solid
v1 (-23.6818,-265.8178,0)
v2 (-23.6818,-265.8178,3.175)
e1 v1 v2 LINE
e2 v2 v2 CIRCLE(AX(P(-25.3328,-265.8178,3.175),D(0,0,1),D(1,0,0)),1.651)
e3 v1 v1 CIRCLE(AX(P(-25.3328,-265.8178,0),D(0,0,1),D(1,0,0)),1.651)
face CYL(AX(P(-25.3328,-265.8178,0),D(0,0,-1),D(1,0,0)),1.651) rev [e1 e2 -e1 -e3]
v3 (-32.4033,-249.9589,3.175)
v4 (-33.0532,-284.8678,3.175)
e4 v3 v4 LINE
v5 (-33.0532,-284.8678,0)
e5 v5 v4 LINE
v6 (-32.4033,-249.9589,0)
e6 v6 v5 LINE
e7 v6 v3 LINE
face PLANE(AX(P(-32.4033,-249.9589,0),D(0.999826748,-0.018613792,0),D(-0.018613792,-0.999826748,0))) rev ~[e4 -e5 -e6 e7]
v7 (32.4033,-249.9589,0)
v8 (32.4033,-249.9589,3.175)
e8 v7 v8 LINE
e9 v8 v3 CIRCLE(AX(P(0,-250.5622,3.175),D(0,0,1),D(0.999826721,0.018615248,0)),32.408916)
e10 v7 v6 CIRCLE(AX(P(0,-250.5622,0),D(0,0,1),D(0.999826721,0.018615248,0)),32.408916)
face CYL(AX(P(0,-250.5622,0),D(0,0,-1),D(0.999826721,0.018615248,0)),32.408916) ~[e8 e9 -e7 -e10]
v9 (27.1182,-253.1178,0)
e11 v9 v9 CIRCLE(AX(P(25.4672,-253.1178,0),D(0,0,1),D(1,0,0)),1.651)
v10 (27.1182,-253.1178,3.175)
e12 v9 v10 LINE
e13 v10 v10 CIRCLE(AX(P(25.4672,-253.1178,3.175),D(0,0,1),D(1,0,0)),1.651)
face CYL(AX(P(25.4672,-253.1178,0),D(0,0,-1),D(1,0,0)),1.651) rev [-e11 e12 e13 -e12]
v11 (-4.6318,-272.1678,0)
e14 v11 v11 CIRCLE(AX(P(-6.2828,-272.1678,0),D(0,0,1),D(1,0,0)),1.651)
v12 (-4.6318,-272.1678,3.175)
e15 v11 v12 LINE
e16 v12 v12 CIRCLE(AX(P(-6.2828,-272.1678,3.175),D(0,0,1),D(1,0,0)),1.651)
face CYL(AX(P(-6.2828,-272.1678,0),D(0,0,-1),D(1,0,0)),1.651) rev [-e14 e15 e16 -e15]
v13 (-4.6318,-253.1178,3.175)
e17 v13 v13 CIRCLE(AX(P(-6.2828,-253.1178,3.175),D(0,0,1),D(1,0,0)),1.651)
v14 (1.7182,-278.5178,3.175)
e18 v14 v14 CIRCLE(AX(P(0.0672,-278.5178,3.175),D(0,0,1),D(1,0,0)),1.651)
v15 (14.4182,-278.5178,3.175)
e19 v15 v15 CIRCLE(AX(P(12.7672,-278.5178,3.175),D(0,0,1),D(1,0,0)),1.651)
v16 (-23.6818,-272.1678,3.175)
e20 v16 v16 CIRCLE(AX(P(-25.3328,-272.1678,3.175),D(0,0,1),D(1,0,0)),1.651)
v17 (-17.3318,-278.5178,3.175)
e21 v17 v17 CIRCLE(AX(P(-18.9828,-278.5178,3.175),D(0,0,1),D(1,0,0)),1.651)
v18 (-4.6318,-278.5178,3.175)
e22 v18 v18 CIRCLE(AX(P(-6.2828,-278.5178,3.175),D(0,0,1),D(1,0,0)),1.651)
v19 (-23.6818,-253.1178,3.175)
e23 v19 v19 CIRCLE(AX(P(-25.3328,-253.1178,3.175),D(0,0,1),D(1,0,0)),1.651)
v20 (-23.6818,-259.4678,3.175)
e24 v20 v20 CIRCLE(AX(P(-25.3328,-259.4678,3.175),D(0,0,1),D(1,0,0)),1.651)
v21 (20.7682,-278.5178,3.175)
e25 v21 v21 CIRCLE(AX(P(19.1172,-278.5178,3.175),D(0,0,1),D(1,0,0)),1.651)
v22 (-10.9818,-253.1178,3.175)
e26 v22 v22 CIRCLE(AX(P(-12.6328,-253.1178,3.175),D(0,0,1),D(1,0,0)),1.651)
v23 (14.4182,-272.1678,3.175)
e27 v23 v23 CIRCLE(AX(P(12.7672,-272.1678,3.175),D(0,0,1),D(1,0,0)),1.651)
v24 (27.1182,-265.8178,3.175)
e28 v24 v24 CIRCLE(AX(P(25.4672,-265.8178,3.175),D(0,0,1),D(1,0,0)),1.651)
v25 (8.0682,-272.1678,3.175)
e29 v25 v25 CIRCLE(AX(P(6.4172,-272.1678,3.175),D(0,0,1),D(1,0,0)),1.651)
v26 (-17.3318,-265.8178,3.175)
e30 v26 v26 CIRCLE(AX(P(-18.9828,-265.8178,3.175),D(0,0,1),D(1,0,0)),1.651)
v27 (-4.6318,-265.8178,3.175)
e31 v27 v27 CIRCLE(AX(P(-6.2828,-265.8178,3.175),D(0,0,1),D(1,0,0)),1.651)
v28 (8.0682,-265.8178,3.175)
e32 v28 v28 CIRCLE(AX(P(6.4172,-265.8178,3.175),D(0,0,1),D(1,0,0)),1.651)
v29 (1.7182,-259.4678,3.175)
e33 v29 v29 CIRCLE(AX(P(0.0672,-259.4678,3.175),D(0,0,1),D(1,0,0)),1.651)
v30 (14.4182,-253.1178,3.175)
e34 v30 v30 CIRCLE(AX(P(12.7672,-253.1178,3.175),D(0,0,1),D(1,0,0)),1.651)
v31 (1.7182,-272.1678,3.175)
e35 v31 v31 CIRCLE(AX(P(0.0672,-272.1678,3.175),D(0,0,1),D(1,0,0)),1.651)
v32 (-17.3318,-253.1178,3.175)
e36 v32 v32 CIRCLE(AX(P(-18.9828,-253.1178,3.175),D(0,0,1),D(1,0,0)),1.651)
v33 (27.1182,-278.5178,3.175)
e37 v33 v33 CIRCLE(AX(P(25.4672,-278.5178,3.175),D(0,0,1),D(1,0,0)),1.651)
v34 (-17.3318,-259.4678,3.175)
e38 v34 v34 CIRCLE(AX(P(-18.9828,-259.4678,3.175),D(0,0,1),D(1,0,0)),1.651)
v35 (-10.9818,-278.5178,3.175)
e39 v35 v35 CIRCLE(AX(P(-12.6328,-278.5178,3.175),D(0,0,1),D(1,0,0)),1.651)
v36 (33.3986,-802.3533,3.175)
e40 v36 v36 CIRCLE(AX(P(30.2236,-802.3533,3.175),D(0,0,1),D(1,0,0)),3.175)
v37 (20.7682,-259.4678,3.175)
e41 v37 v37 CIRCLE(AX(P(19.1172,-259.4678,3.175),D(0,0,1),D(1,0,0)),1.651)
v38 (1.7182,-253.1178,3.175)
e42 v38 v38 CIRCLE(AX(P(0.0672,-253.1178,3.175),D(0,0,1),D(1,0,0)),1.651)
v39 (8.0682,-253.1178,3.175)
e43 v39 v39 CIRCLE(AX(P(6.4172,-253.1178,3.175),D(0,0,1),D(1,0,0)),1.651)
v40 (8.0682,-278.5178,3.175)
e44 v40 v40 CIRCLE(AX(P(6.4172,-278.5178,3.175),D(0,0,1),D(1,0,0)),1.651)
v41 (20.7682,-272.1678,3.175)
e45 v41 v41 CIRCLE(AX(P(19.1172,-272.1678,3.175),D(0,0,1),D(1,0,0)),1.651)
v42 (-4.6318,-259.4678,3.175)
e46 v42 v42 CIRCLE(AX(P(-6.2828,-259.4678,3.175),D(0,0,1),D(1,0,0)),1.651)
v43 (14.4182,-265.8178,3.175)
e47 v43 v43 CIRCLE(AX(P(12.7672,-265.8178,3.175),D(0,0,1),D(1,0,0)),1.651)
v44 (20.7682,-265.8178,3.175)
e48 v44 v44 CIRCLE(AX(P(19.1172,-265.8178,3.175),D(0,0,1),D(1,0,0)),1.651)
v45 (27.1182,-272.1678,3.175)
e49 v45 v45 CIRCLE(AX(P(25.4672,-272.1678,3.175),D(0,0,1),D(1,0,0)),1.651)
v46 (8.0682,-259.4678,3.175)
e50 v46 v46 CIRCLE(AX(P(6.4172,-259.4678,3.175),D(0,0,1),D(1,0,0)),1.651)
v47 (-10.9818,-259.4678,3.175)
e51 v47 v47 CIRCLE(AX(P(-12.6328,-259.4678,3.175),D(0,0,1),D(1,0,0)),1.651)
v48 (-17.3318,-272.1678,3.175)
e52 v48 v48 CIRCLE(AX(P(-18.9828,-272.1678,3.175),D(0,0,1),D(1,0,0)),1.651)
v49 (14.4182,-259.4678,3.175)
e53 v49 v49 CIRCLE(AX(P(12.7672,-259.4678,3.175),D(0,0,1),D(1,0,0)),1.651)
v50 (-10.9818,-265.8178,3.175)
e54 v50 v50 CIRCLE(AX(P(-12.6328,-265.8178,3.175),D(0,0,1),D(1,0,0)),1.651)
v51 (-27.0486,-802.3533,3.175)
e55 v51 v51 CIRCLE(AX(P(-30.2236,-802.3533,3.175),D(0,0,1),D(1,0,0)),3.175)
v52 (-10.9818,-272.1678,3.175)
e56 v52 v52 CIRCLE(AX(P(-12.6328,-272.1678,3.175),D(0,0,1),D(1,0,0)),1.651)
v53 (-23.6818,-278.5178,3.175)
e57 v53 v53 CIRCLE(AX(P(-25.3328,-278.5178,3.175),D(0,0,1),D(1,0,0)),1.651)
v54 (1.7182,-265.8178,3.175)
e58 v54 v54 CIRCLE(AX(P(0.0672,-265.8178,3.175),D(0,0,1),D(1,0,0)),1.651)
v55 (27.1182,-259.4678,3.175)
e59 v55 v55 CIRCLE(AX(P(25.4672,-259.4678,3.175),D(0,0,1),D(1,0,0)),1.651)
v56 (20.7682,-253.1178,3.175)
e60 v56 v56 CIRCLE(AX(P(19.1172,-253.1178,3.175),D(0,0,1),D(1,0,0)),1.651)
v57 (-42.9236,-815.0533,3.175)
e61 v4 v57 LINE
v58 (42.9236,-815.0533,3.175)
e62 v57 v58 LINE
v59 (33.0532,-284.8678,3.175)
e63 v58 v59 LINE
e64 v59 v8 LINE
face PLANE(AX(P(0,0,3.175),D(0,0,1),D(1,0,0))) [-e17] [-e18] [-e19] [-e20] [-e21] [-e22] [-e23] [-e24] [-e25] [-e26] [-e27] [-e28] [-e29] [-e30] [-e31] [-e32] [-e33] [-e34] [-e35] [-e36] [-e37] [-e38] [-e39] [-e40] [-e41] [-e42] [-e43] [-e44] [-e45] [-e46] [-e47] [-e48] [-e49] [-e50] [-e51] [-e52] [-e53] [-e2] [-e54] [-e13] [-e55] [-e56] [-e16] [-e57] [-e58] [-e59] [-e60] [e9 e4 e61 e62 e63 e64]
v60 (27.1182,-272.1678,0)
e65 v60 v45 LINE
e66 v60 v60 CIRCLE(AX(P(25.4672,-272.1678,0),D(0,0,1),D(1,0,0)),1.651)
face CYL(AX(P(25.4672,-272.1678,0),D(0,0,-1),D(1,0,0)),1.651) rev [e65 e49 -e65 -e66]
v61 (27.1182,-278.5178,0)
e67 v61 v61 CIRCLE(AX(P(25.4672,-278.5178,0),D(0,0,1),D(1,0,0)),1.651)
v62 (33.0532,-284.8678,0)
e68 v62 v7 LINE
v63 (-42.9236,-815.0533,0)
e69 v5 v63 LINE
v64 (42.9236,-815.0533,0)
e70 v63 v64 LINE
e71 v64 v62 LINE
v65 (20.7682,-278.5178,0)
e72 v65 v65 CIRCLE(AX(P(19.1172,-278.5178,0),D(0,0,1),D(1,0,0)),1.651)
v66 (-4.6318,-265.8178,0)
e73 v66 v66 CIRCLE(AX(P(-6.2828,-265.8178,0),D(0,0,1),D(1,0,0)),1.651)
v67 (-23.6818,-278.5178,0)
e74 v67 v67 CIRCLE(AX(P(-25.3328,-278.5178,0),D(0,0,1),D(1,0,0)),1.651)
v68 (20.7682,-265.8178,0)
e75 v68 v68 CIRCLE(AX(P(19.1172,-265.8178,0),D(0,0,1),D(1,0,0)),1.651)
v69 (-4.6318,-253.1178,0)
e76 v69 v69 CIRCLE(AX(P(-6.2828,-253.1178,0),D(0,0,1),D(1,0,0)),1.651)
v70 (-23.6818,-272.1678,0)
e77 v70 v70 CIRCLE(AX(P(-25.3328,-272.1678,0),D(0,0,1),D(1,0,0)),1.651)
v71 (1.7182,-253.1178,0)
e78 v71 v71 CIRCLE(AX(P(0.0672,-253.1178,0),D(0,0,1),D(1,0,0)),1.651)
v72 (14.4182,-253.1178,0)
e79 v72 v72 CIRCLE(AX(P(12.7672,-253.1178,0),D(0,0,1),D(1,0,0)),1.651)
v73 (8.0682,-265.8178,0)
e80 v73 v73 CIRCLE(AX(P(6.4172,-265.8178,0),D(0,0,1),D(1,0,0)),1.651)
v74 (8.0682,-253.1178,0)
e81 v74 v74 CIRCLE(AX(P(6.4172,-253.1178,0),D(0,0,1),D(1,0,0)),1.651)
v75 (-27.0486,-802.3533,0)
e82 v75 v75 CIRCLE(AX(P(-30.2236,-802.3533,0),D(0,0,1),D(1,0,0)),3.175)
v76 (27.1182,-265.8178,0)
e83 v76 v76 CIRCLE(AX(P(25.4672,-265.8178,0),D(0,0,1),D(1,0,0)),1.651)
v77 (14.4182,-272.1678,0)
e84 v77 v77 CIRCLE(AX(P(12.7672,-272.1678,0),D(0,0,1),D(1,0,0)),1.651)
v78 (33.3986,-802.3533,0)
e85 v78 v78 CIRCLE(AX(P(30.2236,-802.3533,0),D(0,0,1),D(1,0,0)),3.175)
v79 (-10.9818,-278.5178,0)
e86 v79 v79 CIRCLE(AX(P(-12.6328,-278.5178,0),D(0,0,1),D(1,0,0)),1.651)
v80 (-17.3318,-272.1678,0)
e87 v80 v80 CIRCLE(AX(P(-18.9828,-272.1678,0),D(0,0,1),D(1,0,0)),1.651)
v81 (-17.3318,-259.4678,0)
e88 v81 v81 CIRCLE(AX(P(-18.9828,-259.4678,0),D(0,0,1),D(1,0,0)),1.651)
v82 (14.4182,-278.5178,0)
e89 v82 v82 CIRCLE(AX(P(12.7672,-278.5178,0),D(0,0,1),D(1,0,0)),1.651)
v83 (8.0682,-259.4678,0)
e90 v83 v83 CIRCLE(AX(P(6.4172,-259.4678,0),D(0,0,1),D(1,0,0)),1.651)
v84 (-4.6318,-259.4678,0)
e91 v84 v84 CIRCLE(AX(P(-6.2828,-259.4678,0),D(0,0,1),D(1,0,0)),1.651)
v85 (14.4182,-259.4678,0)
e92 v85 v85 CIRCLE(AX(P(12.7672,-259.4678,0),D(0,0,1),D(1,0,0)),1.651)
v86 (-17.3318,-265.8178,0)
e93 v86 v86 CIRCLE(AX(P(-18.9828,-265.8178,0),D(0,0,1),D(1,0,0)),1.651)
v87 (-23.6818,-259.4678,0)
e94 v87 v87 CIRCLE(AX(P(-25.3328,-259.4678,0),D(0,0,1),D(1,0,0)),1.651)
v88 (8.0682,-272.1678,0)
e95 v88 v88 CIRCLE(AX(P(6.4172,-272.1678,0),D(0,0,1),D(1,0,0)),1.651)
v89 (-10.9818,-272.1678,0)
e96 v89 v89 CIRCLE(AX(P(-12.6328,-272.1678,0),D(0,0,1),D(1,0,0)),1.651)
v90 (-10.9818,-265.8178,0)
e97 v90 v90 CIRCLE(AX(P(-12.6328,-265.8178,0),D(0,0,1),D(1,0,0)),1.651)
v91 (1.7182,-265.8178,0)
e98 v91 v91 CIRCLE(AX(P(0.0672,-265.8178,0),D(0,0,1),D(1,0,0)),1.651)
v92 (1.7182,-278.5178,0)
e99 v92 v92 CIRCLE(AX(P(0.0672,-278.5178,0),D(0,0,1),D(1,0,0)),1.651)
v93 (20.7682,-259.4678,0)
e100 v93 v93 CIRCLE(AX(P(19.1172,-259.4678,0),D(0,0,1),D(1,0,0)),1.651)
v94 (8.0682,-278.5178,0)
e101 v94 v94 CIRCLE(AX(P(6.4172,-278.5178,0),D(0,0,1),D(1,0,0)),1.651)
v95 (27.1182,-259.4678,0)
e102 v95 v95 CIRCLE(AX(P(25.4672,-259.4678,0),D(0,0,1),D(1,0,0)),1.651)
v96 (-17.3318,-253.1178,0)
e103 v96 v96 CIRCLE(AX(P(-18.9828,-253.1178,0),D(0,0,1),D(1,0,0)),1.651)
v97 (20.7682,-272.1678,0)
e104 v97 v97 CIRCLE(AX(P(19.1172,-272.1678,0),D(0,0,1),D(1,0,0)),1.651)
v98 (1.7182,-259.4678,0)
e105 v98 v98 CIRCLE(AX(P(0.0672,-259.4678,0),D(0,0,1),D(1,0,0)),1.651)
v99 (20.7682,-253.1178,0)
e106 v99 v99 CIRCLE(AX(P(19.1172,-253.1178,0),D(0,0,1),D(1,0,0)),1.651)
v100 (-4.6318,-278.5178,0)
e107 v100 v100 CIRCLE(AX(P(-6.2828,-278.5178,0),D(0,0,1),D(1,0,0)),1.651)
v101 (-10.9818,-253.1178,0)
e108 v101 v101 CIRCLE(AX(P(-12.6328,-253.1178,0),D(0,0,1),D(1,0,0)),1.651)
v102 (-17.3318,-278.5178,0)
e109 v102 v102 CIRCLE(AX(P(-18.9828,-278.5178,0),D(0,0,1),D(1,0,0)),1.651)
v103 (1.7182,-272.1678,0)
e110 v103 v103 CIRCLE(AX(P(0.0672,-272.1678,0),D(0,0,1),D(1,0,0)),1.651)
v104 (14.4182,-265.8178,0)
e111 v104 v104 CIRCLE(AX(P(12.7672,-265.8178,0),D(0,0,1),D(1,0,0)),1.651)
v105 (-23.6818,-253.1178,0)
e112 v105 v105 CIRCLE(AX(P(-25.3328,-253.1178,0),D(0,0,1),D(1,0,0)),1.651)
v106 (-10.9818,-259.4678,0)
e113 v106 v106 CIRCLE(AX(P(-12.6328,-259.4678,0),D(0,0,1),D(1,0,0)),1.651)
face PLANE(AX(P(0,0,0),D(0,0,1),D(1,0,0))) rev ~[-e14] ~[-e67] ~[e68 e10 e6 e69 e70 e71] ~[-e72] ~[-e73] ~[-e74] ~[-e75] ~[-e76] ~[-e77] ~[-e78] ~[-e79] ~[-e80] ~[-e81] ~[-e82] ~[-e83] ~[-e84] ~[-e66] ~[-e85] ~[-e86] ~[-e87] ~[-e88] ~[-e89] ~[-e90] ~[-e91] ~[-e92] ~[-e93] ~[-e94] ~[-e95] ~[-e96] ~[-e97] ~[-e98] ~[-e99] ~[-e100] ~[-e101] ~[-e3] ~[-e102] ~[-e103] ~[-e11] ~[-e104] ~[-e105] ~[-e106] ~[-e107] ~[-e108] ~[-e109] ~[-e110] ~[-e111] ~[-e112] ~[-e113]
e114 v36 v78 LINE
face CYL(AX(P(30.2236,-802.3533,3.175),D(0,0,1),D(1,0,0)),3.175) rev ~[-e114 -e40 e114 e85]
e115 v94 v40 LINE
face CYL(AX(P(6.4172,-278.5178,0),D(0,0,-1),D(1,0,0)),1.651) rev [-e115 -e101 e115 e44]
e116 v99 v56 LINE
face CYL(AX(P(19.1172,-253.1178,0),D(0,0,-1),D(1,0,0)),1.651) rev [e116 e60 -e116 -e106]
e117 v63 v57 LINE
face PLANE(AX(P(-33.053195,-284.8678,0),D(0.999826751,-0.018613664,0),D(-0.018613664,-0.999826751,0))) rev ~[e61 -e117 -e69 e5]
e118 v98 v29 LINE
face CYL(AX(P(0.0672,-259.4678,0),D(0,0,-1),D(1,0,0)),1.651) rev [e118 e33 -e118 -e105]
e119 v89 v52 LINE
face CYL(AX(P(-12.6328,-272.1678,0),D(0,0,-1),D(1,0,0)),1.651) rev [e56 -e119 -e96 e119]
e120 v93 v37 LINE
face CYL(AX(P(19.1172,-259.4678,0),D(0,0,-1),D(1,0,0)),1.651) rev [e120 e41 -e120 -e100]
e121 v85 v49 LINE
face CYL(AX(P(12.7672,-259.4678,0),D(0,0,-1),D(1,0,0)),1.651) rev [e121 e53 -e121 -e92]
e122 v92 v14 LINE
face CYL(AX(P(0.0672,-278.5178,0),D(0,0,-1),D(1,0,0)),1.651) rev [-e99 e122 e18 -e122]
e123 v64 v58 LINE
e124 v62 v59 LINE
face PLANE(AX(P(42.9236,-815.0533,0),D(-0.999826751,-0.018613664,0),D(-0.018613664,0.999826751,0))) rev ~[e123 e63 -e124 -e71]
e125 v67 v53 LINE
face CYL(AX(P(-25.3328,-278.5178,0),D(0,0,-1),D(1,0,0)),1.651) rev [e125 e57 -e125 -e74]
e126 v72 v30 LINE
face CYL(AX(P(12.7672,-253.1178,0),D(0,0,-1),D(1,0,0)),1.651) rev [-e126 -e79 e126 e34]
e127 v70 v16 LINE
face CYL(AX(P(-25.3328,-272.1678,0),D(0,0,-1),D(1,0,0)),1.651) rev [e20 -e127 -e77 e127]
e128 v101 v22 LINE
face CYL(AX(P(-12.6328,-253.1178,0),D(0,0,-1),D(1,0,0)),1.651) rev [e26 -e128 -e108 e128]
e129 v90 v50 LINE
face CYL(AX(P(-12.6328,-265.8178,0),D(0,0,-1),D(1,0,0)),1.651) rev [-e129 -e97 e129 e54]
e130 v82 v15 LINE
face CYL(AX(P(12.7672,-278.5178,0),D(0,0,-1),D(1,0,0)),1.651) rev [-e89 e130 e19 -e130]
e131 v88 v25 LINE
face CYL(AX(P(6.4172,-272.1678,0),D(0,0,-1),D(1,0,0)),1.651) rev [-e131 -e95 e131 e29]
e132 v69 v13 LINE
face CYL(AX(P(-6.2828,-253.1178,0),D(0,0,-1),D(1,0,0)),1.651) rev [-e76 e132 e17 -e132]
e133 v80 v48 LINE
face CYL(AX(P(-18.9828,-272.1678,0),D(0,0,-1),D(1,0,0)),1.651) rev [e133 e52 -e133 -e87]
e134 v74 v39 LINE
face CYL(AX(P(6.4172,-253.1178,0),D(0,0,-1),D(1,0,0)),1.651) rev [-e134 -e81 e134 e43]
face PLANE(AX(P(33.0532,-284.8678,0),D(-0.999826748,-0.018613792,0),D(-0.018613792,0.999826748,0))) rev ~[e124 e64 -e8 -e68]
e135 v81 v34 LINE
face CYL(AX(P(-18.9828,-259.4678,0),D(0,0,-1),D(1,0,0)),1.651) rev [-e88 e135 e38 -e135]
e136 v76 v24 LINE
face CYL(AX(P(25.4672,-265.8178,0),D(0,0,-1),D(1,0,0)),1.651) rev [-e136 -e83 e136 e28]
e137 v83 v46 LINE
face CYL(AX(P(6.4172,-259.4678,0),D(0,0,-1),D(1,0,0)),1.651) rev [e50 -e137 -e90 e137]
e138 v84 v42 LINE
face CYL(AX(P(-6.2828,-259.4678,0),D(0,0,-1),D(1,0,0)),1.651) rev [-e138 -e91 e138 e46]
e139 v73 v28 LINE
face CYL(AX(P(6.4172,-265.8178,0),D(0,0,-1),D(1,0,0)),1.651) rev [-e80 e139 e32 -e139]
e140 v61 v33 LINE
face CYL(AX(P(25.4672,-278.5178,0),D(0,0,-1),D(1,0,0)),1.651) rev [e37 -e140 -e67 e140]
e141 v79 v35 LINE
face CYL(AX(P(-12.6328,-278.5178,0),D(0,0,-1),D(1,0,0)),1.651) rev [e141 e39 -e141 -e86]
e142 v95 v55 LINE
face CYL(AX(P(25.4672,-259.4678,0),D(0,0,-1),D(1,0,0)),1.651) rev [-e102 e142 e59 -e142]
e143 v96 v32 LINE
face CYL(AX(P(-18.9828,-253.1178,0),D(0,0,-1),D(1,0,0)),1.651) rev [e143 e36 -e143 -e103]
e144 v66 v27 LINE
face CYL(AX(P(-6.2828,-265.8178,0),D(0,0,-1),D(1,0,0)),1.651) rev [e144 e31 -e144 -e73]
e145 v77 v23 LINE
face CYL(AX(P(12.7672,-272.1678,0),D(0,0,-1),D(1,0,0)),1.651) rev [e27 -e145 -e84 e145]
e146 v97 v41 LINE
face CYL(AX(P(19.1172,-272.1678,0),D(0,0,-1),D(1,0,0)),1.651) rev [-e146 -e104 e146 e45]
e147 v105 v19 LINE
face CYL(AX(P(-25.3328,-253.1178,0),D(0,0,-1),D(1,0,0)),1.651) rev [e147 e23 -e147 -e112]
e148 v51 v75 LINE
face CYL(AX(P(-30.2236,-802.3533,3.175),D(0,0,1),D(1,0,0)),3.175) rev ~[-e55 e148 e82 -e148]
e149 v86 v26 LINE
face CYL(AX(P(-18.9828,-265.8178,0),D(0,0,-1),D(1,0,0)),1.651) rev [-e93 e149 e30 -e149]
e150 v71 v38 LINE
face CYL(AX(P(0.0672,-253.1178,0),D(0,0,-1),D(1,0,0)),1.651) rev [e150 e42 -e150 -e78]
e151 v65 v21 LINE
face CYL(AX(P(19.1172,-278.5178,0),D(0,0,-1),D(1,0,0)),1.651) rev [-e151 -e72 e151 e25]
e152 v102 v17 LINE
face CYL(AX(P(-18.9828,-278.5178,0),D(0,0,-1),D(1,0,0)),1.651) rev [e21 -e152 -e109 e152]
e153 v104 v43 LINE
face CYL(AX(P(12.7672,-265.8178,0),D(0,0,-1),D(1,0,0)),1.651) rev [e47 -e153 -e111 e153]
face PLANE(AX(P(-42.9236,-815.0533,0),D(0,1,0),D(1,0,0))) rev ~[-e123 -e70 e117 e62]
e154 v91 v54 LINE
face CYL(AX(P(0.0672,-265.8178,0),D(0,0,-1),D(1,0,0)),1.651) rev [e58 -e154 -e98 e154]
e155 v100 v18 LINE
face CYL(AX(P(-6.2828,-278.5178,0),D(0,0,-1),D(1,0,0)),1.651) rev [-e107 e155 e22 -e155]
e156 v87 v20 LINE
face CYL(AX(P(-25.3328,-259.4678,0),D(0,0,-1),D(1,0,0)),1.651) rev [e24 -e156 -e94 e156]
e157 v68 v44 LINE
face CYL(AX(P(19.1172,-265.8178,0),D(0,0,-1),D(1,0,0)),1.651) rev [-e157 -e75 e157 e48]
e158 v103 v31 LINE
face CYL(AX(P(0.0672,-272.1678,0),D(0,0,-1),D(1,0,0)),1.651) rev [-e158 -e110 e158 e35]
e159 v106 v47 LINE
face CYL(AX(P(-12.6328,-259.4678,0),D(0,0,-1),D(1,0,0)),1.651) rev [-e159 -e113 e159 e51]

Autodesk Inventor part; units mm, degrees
ref_plane "YZ Plane" through (0, 0, 0) normal (1, 0, 0) x (0, 1, 0)
ref_plane "XZ Plane" through (0, 0, 0) normal (0, 1, 0) x (-1, 0, 0)
ref_plane "XY Plane" through (0, 0, 0) normal (0, 0, 1) x (1, 0, 0)
ref_plane "Work Plane1" through (0, 0, 0) normal (0, 0, 1) x (1, 0, 0)
sketch "Sketch1" plane through (0, 0, 0) normal (0, 0, 1) x (1, 0, 0)
  circle A0 centre (15.2714, 289.6793) radius 1.651 projected
  circle A1 centre (2.5714, 289.6793) radius 1.651 projected
  circle A2 centre (-10.1286, 289.6793) radius 1.651 projected
  circle A3 centre (15.2714, 283.3293) radius 1.651 projected
  circle A4 centre (2.5714, 283.3293) radius 1.651 projected
  circle A5 centre (-10.1286, 283.3293) radius 1.651 projected
  circle A6 centre (15.2714, 276.9793) radius 1.651 projected
  circle A7 centre (2.5714, 276.9793) radius 1.651 projected
  circle A8 centre (-10.1286, 276.9793) radius 1.651 projected
  circle A9 centre (15.2714, 270.6293) radius 1.651 projected
  circle A10 centre (2.5714, 270.6293) radius 1.651 projected
  circle A11 centre (-10.1286, 270.6293) radius 1.651 projected
  circle A12 centre (15.2714, 264.2793) radius 1.651 projected
  circle A13 centre (2.5714, 264.2793) radius 1.651 projected
  circle A14 centre (-10.1286, 264.2793) radius 1.651 projected
  circle A15 centre (-16.4786, 264.2793) radius 1.651 projected
  circle A16 centre (-3.7786, 264.2793) radius 1.651 projected
  circle A17 centre (8.9214, 264.2793) radius 1.651 projected
  circle A18 centre (-16.4786, 270.6293) radius 1.651 projected
  circle A19 centre (-3.7786, 270.6293) radius 1.651 projected
  circle A20 centre (8.9214, 270.6293) radius 1.651 projected
  circle A21 centre (-16.4786, 276.9793) radius 1.651 projected
  circle A22 centre (-3.7786, 276.9793) radius 1.651 projected
  circle A23 centre (8.9214, 276.9793) radius 1.651 projected
  circle A24 centre (-16.4786, 283.3293) radius 1.651 projected
  circle A25 centre (-3.7786, 283.3293) radius 1.651 projected
  circle A26 centre (8.9214, 283.3293) radius 1.651 projected
  circle A27 centre (-16.4786, 289.6793) radius 1.651 projected
  circle A28 centre (-3.7786, 289.6793) radius 1.651 projected
  circle A29 centre (8.9214, 289.6793) radius 1.651 projected
  circle A30 centre (25.4672, -253.1178) radius 1.651 projected
  circle A31 centre (19.1172, -253.1178) radius 1.651 projected
  circle A32 centre (12.7672, -253.1178) radius 1.651 projected
  circle A33 centre (6.4172, -253.1178) radius 1.651 projected
  circle A34 centre (0.0672, -253.1178) radius 1.651 projected
  circle A35 centre (-6.2828, -253.1178) radius 1.651 projected
  circle A36 centre (-12.6328, -253.1178) radius 1.651 projected
  circle A37 centre (-18.9828, -253.1178) radius 1.651 projected
  circle A38 centre (-25.3328, -253.1178) radius 1.651 projected
  circle A39 centre (25.4672, -259.4678) radius 1.651 projected
  circle A40 centre (19.1172, -259.4678) radius 1.651 projected
  circle A41 centre (12.7672, -259.4678) radius 1.651 projected
  circle A42 centre (6.4172, -259.4678) radius 1.651 projected
  circle A43 centre (0.0672, -259.4678) radius 1.651 projected
  circle A44 centre (-6.2828, -259.4678) radius 1.651 projected
  circle A45 centre (-12.6328, -259.4678) radius 1.651 projected
  circle A46 centre (-18.9828, -259.4678) radius 1.651 projected
  circle A47 centre (-25.3328, -259.4678) radius 1.651 projected
  circle A48 centre (25.4672, -265.8178) radius 1.651 projected
  circle A49 centre (19.1172, -265.8178) radius 1.651 projected
  circle A50 centre (12.7672, -265.8178) radius 1.651 projected
  circle A51 centre (6.4172, -265.8178) radius 1.651 projected
  circle A52 centre (0.0672, -265.8178) radius 1.651 projected
  circle A53 centre (-6.2828, -265.8178) radius 1.651 projected
  circle A54 centre (-12.6328, -265.8178) radius 1.651 projected
  circle A55 centre (-18.9828, -265.8178) radius 1.651 projected
  circle A56 centre (-25.3328, -265.8178) radius 1.651 projected
  circle A57 centre (25.4672, -272.1678) radius 1.651 projected
  circle A58 centre (19.1172, -272.1678) radius 1.651 projected
  circle A59 centre (12.7672, -272.1678) radius 1.651 projected
  circle A60 centre (6.4172, -272.1678) radius 1.651 projected
  circle A61 centre (0.0672, -272.1678) radius 1.651 projected
  circle A62 centre (-6.2828, -272.1678) radius 1.651 projected
  circle A63 centre (-12.6328, -272.1678) radius 1.651 projected
  circle A64 centre (-18.9828, -272.1678) radius 1.651 projected
  circle A65 centre (-25.3328, -272.1678) radius 1.651 projected
  circle A66 centre (25.4672, -278.5178) radius 1.651 projected
  circle A67 centre (19.1172, -278.5178) radius 1.651 projected
  circle A68 centre (12.7672, -278.5178) radius 1.651 projected
  circle A69 centre (6.4172, -278.5178) radius 1.651 projected
  circle A70 centre (0.0672, -278.5178) radius 1.651 projected
  circle A71 centre (-6.2828, -278.5178) radius 1.651 projected
  circle A72 centre (-12.6328, -278.5178) radius 1.651 projected
  circle A73 centre (-18.9828, -278.5178) radius 1.651 projected
  circle A74 centre (-25.3328, -278.5178) radius 1.651 projected
  arc A75 (22.3491, 290.0954) -> (-22.3491, 290.0954) centre (0, 289.6793) ccw projected
  line L0 (-22.3491, 290.0954) -> (-33.0532, -284.8678) projected
  line L1 (-33.0532, -284.8678) -> (33.0532, -284.8678) projected
  line L2 (33.0532, -284.8678) -> (22.3491, 290.0954) projected
  arc A76 (32.4033, -249.9589) -> (-32.4033, -249.9589) centre (0, -250.5622) ccw
  line L3 (-32.4033, -249.9589) -> (-42.9236, -815.0533)
  line L4 (-42.9236, -815.0533) -> (42.9236, -815.0533)
  line L5 (42.9236, -815.0533) -> (32.4033, -249.9589)
  line L6 (-32.4033, -218.1533) -> (33.9104, -218.1533) construction
  point P0 (0, 0)
  dimension "d0" = 596.9
extrude "Extrusion1" add sketch "Sketch1" along normal blind 3.175 contours L2 L1 L0 A76 | L5 L4 L3 L1
sketch "Sketch2" plane through (0, 0, 3.175) normal (0, 0, 1) x (1, 0, 0)
  line L0 (-42.9236, -815.0533) -> (42.9236, -815.0533) projected
  circle A0 centre (-30.2236, -802.3533) radius 3.175
  line L1 (0, -815.0533) -> (0, -733.814) construction
  circle A1 centre (30.2236, -802.3533) radius 3.175
  point P0 (0, 0)
  dimension "d4" = 6.35
  dimension "d5" = 12.7
  dimension "d6" = 12.7
extrude "Extrusion2" cut sketch "Sketch2" against normal through all
properties part number "octoBotoStemSectD_v01"
